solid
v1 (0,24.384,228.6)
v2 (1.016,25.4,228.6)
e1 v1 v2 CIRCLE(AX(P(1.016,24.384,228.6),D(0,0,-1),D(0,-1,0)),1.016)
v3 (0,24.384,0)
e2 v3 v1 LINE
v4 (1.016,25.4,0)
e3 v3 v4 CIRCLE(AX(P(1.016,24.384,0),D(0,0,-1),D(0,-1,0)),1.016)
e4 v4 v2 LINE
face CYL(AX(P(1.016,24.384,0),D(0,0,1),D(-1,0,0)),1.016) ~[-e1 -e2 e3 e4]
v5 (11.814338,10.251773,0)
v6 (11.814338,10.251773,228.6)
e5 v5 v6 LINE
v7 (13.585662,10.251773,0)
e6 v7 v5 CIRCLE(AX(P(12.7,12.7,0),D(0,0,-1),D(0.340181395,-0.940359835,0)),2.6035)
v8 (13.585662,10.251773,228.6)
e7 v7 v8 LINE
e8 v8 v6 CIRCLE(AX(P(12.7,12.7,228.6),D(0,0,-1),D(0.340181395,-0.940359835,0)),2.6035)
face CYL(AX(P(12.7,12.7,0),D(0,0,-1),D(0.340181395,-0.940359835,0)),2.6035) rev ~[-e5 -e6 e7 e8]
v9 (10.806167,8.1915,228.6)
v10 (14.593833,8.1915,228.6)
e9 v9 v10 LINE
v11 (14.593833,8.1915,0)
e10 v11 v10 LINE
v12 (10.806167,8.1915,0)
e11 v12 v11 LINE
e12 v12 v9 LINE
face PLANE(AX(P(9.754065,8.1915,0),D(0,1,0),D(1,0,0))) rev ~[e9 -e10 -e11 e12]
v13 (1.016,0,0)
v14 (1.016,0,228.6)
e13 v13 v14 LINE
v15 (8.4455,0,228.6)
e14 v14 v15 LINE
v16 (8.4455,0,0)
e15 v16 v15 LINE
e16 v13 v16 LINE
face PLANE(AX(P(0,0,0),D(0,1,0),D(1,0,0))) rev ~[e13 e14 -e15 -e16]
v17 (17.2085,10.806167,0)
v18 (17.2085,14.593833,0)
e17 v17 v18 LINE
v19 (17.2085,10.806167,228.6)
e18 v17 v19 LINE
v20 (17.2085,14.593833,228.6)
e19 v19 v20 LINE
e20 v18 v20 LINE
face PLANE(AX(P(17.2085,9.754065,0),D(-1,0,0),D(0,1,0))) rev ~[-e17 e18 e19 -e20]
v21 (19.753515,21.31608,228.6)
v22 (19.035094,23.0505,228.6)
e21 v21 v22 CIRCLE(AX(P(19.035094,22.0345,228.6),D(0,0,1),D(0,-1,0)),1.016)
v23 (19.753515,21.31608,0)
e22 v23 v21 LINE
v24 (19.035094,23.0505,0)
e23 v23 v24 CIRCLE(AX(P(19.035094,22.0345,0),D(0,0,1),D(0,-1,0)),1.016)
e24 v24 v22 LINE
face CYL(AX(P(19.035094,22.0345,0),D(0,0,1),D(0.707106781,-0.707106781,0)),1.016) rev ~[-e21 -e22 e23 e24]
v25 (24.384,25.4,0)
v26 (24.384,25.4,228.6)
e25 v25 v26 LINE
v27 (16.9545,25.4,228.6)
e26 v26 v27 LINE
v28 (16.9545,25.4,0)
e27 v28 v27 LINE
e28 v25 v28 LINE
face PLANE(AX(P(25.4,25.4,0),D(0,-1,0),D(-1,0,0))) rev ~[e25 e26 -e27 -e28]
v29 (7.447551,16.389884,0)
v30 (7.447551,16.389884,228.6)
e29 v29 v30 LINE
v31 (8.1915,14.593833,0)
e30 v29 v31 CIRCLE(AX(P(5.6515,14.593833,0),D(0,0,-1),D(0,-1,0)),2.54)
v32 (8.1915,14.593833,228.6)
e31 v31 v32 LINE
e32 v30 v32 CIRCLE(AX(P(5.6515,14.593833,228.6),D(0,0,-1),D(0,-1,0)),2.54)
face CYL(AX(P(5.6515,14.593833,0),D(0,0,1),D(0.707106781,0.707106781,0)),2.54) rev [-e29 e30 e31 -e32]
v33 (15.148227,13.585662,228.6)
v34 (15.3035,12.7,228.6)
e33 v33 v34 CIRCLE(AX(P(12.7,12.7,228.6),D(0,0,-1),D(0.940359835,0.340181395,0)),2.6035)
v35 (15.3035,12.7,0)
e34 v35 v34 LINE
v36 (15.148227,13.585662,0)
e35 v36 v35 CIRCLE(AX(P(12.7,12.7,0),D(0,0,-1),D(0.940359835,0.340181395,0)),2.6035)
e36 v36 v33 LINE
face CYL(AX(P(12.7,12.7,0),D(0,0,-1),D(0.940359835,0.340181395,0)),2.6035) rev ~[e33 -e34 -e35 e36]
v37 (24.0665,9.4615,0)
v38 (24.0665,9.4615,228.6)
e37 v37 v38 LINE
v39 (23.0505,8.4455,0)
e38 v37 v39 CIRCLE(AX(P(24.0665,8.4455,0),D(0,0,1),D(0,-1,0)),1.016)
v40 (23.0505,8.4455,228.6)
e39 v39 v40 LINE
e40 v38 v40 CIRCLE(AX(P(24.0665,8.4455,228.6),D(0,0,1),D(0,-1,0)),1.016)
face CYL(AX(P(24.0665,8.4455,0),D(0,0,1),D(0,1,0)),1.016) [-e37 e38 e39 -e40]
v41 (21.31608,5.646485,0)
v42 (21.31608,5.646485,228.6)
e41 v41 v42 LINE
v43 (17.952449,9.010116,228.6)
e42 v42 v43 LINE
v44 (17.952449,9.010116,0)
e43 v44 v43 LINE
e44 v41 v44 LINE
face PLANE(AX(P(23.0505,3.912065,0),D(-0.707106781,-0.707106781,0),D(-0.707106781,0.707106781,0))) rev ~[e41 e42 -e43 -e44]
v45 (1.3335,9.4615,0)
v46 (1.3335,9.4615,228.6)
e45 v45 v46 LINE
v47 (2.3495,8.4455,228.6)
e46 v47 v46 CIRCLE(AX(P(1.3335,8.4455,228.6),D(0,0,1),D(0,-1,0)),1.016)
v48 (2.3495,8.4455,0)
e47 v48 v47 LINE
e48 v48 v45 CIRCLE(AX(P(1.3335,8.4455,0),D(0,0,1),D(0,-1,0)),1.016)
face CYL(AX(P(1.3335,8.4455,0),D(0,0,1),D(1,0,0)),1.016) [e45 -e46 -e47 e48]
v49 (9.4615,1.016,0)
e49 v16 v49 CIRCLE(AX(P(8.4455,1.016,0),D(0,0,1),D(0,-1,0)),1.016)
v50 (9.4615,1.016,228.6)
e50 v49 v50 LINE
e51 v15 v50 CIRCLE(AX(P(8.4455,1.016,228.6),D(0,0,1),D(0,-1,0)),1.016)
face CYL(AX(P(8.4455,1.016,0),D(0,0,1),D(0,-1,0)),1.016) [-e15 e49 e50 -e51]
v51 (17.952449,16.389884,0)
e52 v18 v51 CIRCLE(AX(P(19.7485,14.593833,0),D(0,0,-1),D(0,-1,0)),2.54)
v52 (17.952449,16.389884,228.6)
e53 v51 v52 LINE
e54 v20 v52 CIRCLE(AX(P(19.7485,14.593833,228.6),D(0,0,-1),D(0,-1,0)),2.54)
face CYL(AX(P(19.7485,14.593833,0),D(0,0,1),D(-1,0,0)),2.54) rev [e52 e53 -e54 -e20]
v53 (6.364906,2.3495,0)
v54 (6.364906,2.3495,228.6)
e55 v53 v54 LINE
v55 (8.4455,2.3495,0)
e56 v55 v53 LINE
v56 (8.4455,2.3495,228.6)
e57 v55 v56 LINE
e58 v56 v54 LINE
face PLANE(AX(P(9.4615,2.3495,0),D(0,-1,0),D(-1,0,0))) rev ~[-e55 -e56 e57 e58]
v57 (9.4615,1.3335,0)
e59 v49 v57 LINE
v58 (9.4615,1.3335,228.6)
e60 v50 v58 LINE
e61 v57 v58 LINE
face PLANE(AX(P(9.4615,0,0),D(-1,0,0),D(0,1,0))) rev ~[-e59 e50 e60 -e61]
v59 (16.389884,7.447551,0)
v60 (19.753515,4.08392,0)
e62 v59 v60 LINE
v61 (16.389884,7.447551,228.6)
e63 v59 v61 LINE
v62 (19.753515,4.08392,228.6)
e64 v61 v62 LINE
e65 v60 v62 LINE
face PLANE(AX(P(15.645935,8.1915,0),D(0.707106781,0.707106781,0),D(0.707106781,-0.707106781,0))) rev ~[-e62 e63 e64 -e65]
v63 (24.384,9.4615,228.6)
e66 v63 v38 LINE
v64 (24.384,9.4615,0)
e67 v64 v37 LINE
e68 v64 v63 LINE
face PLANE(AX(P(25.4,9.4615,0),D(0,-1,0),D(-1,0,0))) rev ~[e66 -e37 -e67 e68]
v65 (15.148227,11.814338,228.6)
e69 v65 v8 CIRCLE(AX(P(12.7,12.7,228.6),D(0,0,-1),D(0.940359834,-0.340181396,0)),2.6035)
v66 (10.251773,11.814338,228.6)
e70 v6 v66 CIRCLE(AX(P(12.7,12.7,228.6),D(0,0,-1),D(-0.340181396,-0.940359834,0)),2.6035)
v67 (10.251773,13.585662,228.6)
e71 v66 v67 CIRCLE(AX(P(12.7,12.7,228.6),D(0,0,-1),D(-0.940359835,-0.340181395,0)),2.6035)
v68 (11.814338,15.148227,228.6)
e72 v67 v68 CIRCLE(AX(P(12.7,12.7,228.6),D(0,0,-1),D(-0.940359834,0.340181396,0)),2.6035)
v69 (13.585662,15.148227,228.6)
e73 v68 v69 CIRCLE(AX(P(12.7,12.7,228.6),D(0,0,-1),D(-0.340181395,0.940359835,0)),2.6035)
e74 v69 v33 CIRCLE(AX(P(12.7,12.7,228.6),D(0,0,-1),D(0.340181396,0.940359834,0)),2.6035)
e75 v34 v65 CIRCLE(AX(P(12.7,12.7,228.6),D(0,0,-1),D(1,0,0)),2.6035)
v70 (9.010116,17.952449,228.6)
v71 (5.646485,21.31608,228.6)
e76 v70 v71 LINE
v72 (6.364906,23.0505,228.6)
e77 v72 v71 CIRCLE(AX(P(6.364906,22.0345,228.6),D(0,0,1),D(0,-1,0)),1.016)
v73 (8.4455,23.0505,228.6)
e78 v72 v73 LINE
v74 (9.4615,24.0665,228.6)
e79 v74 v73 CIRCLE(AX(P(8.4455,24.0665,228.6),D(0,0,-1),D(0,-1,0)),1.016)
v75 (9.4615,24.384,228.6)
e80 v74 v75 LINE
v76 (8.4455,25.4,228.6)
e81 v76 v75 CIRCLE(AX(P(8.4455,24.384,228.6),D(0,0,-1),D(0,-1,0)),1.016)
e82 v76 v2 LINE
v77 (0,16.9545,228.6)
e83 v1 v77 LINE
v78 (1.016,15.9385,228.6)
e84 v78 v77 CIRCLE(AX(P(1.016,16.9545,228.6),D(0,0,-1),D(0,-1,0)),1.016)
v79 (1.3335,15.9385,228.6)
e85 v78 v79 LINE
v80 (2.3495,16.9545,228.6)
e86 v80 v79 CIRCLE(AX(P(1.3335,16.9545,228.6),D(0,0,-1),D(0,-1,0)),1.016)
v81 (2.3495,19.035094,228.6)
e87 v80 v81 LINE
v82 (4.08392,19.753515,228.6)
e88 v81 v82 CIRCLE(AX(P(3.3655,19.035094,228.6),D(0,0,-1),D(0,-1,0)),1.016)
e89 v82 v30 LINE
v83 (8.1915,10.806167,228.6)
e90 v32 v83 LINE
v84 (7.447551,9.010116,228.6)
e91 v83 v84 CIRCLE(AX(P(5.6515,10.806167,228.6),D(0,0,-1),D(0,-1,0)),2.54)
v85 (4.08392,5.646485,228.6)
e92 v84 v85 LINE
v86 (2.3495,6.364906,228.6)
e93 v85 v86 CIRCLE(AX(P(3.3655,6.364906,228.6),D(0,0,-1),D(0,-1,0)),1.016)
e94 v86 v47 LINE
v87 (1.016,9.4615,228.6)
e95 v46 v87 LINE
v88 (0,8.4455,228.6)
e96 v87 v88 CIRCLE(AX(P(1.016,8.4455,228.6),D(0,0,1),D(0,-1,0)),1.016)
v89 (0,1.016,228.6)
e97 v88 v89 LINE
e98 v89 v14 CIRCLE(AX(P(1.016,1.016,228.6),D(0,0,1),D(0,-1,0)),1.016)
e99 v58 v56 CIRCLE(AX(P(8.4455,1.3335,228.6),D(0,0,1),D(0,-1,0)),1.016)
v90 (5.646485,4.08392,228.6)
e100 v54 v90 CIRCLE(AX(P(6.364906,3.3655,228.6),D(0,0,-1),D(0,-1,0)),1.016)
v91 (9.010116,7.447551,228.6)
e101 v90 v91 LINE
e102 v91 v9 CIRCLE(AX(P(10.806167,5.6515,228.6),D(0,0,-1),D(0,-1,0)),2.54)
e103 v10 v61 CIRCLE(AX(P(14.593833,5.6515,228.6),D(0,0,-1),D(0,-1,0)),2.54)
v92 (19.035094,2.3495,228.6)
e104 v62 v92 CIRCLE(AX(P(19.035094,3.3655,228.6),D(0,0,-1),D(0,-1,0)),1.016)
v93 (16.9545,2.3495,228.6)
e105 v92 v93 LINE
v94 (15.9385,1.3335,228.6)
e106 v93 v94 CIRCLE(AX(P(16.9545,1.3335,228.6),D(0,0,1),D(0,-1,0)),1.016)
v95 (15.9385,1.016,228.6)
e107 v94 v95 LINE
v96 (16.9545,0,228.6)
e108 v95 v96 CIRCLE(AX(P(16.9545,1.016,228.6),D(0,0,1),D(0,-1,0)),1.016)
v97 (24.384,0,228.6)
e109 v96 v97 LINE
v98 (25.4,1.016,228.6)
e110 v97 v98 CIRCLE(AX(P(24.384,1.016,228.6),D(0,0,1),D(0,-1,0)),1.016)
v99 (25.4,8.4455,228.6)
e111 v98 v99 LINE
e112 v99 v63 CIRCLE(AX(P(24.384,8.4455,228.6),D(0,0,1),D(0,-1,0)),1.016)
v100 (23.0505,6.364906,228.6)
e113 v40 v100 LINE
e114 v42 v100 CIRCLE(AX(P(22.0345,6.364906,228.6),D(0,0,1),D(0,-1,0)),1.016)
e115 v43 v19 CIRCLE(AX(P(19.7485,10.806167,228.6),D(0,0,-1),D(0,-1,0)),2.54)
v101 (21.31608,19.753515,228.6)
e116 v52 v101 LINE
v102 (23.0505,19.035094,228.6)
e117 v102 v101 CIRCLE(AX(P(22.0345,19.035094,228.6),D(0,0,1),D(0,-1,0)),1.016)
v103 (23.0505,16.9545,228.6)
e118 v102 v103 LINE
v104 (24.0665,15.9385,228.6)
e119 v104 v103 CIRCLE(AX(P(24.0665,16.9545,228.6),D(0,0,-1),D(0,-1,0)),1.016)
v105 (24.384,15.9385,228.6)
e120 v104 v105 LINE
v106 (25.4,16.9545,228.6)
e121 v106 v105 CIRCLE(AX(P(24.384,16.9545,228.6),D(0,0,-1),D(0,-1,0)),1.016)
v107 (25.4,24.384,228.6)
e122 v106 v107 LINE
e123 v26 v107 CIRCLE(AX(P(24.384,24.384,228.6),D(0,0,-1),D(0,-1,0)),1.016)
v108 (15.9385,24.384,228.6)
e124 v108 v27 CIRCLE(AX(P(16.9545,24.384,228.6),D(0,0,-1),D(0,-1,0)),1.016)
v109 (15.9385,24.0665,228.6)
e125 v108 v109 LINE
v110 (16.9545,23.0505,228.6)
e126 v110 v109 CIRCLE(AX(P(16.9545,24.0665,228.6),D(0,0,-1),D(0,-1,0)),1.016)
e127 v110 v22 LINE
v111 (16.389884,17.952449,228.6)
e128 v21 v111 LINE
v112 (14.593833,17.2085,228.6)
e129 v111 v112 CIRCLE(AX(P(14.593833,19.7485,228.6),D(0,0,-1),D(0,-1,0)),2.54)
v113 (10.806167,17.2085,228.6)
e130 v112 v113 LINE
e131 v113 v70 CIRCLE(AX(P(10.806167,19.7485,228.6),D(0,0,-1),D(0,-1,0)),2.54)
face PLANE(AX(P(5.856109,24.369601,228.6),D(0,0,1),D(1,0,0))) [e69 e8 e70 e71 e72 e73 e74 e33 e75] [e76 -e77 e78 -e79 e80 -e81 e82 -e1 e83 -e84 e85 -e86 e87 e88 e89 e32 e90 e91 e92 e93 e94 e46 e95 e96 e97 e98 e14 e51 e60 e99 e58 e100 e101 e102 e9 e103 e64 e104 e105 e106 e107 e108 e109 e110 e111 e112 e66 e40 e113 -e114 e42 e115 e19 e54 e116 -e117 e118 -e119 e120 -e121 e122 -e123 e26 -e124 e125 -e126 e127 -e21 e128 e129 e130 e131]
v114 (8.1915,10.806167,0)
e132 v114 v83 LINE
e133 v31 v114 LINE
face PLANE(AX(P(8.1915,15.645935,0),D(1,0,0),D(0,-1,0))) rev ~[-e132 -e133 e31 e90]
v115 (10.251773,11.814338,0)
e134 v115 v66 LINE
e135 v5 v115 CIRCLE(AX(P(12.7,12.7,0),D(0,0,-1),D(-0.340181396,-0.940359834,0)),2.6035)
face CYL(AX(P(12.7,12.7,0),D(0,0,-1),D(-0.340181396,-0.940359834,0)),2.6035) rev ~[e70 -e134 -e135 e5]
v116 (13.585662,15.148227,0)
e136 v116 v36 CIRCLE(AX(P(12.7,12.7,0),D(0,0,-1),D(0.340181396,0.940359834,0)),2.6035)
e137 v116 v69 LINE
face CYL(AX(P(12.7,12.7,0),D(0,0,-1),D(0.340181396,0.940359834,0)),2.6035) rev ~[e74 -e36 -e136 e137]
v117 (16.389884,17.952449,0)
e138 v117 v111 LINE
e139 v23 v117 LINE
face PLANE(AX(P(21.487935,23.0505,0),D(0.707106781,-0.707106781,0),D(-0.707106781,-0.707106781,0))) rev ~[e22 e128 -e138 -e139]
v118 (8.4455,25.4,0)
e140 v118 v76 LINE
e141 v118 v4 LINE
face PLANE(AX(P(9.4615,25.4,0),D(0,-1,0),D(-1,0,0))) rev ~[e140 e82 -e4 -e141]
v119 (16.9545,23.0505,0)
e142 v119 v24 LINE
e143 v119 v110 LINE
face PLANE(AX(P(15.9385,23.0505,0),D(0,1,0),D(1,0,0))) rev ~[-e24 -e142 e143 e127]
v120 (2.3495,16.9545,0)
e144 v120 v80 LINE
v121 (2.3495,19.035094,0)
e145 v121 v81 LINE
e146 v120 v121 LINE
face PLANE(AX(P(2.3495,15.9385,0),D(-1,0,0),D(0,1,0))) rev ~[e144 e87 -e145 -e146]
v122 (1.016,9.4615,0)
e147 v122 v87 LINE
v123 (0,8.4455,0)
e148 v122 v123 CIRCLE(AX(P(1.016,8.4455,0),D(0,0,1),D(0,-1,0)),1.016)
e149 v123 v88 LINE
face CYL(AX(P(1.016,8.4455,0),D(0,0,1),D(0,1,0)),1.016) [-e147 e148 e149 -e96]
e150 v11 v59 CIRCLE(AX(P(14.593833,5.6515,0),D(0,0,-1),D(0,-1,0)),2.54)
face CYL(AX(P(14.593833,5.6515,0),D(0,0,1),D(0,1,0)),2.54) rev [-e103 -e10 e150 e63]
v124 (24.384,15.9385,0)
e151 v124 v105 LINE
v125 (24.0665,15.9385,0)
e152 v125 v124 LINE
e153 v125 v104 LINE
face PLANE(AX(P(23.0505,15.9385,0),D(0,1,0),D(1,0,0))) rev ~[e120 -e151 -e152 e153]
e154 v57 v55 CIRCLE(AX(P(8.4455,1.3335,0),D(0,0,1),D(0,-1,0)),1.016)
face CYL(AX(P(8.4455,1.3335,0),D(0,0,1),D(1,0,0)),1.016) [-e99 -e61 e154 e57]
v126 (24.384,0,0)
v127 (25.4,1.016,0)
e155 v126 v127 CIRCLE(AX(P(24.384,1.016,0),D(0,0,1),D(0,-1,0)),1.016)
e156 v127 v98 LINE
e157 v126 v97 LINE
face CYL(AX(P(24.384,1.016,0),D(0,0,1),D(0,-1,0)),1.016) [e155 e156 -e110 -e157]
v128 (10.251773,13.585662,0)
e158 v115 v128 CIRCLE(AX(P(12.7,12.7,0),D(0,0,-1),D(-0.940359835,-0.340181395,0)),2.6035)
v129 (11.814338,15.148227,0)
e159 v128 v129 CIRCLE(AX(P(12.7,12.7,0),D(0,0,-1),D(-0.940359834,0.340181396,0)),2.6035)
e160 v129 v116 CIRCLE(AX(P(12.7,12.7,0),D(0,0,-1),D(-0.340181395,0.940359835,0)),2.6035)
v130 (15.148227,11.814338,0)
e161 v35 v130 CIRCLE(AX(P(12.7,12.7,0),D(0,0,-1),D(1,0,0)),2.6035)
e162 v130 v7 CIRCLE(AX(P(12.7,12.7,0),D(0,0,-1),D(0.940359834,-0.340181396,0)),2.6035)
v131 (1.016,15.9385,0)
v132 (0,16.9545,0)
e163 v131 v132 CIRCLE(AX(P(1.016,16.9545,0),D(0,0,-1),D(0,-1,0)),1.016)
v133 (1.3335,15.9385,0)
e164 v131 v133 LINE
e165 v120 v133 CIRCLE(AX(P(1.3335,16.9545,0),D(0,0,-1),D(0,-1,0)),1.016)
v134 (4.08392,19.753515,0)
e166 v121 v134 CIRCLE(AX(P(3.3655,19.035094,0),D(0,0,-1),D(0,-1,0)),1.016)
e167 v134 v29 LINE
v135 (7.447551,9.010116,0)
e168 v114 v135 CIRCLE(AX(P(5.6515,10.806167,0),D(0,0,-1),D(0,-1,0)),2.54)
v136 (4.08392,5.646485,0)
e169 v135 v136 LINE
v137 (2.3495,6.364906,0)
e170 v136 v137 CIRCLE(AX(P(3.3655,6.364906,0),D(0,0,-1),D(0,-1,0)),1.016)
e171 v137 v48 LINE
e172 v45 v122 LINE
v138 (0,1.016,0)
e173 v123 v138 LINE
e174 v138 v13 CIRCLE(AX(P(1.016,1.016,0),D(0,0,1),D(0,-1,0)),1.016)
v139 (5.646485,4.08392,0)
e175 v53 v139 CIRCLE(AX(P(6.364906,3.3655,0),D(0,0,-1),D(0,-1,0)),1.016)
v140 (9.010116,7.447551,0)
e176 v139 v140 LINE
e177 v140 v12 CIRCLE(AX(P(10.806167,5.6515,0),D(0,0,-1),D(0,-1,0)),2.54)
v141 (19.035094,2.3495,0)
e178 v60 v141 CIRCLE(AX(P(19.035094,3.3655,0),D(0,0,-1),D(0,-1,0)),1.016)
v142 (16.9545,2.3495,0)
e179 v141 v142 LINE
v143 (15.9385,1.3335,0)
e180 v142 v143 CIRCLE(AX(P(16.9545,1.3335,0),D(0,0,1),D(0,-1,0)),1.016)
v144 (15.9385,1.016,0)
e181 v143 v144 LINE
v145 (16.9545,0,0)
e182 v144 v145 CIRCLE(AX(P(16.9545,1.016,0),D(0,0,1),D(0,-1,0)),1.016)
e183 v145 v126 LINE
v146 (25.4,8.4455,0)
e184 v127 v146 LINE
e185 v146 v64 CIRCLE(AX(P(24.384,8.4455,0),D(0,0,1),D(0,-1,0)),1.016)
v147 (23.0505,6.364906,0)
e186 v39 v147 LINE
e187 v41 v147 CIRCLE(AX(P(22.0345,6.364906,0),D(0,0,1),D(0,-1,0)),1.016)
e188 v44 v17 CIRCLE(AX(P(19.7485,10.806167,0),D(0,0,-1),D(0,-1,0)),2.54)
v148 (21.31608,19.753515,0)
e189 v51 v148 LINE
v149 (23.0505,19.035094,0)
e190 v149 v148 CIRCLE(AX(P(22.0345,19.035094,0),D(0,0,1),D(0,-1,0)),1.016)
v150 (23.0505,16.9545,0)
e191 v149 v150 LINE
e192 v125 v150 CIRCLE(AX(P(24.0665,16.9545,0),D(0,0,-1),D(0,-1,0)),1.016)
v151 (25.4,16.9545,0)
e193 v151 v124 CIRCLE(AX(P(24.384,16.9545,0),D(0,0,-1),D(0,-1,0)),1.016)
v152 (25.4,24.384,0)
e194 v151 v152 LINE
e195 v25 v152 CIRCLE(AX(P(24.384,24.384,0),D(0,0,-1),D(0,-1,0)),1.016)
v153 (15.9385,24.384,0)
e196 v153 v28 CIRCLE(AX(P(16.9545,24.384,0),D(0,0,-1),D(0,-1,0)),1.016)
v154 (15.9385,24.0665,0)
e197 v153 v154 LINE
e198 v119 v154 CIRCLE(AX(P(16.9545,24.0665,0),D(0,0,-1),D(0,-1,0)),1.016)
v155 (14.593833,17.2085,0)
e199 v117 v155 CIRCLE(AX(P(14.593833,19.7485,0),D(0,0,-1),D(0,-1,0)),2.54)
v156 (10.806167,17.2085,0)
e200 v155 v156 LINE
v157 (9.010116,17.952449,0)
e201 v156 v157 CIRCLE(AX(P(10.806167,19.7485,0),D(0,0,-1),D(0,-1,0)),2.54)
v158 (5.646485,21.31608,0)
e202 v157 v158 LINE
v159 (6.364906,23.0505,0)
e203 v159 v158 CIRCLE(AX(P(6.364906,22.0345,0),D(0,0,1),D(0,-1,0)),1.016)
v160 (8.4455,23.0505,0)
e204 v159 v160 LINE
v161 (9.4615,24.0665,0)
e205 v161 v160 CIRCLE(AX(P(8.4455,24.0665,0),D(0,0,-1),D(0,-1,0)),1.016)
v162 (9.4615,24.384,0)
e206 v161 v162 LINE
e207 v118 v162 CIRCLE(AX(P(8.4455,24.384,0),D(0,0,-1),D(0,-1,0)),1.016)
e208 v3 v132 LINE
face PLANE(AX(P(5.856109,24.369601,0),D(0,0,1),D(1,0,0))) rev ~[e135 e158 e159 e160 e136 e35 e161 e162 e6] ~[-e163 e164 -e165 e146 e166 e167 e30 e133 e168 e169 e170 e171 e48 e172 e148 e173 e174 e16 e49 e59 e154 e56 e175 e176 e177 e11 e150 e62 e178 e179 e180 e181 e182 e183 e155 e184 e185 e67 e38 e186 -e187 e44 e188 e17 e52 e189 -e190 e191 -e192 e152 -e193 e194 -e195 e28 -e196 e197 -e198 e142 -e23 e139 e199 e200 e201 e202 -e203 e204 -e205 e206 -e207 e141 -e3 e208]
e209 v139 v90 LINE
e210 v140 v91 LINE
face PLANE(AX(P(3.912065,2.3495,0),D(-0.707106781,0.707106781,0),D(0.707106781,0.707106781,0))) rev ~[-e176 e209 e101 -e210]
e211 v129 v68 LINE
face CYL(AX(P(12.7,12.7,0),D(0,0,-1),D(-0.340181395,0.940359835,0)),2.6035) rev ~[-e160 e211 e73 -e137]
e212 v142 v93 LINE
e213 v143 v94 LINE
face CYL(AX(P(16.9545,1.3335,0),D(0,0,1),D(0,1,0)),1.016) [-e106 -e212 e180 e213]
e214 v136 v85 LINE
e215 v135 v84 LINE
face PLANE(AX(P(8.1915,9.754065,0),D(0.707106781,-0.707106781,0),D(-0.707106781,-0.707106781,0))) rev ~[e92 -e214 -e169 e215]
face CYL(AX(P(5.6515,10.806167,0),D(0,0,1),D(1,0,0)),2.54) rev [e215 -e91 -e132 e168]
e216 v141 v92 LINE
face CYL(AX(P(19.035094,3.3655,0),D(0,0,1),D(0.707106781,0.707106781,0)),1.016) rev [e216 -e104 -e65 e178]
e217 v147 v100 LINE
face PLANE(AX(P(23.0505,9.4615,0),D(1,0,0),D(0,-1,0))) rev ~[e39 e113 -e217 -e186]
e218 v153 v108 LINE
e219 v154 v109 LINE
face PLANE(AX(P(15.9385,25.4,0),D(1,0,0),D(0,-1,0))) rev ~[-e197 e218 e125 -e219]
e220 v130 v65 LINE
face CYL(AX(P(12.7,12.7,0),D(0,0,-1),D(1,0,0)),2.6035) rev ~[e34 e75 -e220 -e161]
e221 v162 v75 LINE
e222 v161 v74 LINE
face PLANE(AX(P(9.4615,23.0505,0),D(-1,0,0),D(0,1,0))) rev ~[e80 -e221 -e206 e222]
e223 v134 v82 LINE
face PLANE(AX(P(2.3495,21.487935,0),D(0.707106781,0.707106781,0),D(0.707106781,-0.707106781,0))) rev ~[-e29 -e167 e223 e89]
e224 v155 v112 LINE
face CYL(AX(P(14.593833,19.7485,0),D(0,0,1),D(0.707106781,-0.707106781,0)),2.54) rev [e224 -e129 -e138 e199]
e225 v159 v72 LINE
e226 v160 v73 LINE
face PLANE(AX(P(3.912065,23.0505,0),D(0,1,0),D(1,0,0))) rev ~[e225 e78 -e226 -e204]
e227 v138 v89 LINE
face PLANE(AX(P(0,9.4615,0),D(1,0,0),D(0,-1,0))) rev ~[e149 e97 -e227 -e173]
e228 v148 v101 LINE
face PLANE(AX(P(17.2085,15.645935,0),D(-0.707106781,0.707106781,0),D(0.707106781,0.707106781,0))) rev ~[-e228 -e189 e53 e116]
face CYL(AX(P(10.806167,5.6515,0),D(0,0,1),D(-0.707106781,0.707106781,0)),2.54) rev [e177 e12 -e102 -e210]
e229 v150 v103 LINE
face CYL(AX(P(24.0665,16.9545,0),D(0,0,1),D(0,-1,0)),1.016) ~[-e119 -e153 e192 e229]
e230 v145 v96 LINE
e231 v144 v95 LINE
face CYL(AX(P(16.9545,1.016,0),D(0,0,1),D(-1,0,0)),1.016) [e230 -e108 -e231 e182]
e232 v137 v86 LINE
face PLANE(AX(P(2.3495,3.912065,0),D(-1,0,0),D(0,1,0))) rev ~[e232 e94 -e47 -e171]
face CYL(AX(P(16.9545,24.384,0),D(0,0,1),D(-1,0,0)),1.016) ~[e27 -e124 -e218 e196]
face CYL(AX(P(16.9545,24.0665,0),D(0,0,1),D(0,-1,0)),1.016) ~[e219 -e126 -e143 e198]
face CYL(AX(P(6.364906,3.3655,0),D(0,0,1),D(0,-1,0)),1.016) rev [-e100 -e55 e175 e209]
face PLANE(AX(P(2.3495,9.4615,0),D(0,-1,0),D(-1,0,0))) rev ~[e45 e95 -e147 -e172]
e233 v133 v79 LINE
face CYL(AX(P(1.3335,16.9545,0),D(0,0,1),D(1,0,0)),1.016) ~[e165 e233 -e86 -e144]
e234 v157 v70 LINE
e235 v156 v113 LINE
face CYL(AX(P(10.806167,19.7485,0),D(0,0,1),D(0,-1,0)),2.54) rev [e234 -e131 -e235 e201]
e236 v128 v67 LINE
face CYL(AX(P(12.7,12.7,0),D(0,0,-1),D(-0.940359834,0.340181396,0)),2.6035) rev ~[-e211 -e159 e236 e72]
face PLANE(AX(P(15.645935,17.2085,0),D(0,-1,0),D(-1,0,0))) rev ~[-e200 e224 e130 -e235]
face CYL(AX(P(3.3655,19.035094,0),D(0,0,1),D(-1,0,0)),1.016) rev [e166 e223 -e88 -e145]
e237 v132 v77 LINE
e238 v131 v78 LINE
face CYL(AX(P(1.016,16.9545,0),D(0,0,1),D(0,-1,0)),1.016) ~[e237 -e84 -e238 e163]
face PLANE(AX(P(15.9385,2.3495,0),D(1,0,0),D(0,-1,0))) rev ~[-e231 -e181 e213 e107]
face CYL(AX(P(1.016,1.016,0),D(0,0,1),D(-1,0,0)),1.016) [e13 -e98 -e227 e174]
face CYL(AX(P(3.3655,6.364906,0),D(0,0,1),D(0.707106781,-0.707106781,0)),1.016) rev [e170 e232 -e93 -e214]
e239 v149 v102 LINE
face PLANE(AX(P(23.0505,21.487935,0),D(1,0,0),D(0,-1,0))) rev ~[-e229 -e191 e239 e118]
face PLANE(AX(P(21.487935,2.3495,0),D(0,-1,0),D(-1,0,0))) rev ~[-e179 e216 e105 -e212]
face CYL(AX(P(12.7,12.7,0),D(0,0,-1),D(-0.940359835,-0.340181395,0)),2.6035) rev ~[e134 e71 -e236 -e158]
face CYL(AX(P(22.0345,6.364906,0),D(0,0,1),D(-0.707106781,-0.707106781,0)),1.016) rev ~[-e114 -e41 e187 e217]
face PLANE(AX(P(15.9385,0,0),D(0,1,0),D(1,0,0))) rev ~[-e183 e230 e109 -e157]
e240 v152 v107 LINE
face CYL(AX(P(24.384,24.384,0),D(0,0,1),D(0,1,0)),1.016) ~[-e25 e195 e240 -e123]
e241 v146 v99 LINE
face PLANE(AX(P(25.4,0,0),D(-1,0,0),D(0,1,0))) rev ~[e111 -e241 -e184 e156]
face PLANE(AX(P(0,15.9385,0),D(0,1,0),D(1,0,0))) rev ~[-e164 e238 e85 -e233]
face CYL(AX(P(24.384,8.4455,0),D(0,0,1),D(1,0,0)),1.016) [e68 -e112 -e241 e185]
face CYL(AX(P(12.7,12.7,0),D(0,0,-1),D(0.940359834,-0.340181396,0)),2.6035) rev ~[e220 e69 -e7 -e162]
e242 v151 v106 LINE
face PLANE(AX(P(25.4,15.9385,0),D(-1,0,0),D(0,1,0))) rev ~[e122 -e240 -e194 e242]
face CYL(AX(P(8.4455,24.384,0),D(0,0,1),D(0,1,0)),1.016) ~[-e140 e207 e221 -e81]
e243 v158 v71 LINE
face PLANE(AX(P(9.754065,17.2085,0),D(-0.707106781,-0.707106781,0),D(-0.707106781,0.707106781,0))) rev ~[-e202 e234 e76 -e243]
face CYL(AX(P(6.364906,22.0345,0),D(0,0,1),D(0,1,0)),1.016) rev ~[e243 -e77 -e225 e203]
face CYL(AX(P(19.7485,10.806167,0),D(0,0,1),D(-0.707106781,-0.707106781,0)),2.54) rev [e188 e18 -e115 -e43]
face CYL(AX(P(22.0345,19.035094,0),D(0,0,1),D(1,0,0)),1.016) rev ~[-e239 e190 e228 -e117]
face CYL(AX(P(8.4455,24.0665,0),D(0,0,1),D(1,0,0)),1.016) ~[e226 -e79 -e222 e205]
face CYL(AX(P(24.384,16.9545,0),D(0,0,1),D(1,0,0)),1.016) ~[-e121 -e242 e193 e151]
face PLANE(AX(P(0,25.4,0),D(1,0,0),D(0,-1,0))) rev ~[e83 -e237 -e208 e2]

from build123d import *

# Parameters (mm, degrees)
BOSS_EXTRUDE1_DEPTH = 228.6
FILLET1_R           = 2.54
FILLET2_R           = 1.016
FILLET3_R           = 1.016


with BuildPart() as part:
    # Sketch1 → Boss-Extrude1 (new body)
    with BuildSketch(Plane.XY):
        Polygon((1.562564565, 25.4), (3.912064565, 23.0505), (9.4615, 23.0505), (9.4615, 25.4), align=None)
        with BuildLine():
            Line((11.814337736, 15.148226829), (9.754064565, 17.2085))
            Line((9.754064565, 17.2085), (3.912064565, 23.0505))
            Line((3.912064565, 23.0505), (1.562564565, 25.4))
            Line((1.562564565, 25.4), (0, 25.4))
            Line((0, 25.4), (0, 23.837435435))
            Line((0, 23.837435435), (2.3495, 21.487935435))
            Line((2.3495, 21.487935435), (8.1915, 15.645935435))
            Line((8.1915, 15.645935435), (10.251773171, 13.585662264))
            ThreePointArc((10.251773171, 13.585662264), (10.859047495, 14.540952505), (11.814337736, 15.148226829))
        make_face()
        Polygon((2.3495, 15.9385), (2.3495, 21.487935435), (0, 23.837435435), (0, 15.9385), align=None)
        with BuildLine():
            Line((13.585662264, 15.148226829), (15.645935435, 17.2085))
            Line((15.645935435, 17.2085), (9.754064565, 17.2085))
            Line((9.754064565, 17.2085), (11.814337736, 15.148226829))
            ThreePointArc((11.814337736, 15.148226829), (12.7, 15.3035), (13.585662264, 15.148226829))
        make_face()
        with BuildLine():
            ThreePointArc((10.251773171, 11.814337736), (10.0965, 12.7), (10.251773171, 13.585662264))
            Line((10.251773171, 13.585662264), (8.1915, 15.645935435))
            Line((8.1915, 15.645935435), (8.1915, 9.754064565))
            Line((8.1915, 9.754064565), (10.251773171, 11.814337736))
        make_face()
        with BuildLine():
            ThreePointArc((11.814337736, 10.251773171), (10.859047495, 10.859047495), (10.251773171, 11.814337736))
            Line((10.251773171, 11.814337736), (8.1915, 9.754064565))
            Line((8.1915, 9.754064565), (2.3495, 3.912064565))
            Line((2.3495, 3.912064565), (0, 1.562564565))
            Line((0, 1.562564565), (0, 0))
            Line((0, 0), (1.562564565, 0))
            Line((1.562564565, 0), (3.912064565, 2.3495))
            Line((3.912064565, 2.3495), (9.754064565, 8.1915))
            Line((9.754064565, 8.1915), (11.814337736, 10.251773171))
        make_face()
        with BuildLine():
            ThreePointArc((13.585662264, 10.251773171), (12.7, 10.0965), (11.814337736, 10.251773171))
            Line((11.814337736, 10.251773171), (9.754064565, 8.1915))
            Line((9.754064565, 8.1915), (15.645935435, 8.1915))
            Line((15.645935435, 8.1915), (13.585662264, 10.251773171))
        make_face()
        with BuildLine():
            Line((17.2085, 9.754064565), (15.148226829, 11.814337736))
            ThreePointArc((15.148226829, 11.814337736), (14.540952505, 10.859047495), (13.585662264, 10.251773171))
            Line((13.585662264, 10.251773171), (15.645935435, 8.1915))
            Line((15.645935435, 8.1915), (21.487935435, 2.3495))
            Line((21.487935435, 2.3495), (23.837435435, 0))
            Line((23.837435435, 0), (25.4, 0))
            Line((25.4, 0), (25.4, 1.562564565))
            Line((25.4, 1.562564565), (23.0505, 3.912064565))
            Line((23.0505, 3.912064565), (17.2085, 9.754064565))
        make_face()
        with BuildLine():
            Line((17.2085, 15.645935435), (15.148226829, 13.585662264))
            ThreePointArc((15.148226829, 13.585662264), (15.264387919, 13.149585199), (15.3035, 12.7))
            ThreePointArc((15.3035, 12.7), (15.264387919, 12.250414801), (15.148226829, 11.814337736))
            Line((15.148226829, 11.814337736), (17.2085, 9.754064565))
            Line((17.2085, 9.754064565), (17.2085, 15.645935435))
        make_face()
        with BuildLine():
            Line((23.837435435, 25.4), (21.487935435, 23.0505))
            Line((21.487935435, 23.0505), (15.645935435, 17.2085))
            Line((15.645935435, 17.2085), (13.585662264, 15.148226829))
            ThreePointArc((13.585662264, 15.148226829), (14.540952505, 14.540952505), (15.148226829, 13.585662264))
            Line((15.148226829, 13.585662264), (17.2085, 15.645935435))
            Line((17.2085, 15.645935435), (23.0505, 21.487935435))
            Line((23.0505, 21.487935435), (25.4, 23.837435435))
            Line((25.4, 23.837435435), (25.4, 25.4))
            Line((25.4, 25.4), (23.837435435, 25.4))
        make_face()
        Polygon((15.9385, 23.0505), (21.487935435, 23.0505), (23.837435435, 25.4), (15.9385, 25.4), align=None)
        Polygon((25.4, 15.9385), (25.4, 23.837435435), (23.0505, 21.487935435), (23.0505, 15.9385), align=None)
        Polygon((23.0505, 9.4615), (23.0505, 3.912064565), (25.4, 1.562564565), (25.4, 9.4615), align=None)
        Polygon((23.837435435, 0), (21.487935435, 2.3495), (15.9385, 2.3495), (15.9385, 0), align=None)
        Polygon((9.4615, 2.3495), (3.912064565, 2.3495), (1.562564565, 0), (9.4615, 0), align=None)
        Polygon((0, 1.562564565), (2.3495, 3.912064565), (2.3495, 9.4615), (0, 9.4615), align=None)
    extrude(amount=BOSS_EXTRUDE1_DEPTH)

    # Fillet1
    fillet1_edges = [part.edges().sort_by_distance(p)[0] for p in [
        (15.645935435, 8.1915, 114.3),
        (9.754064565, 8.1915, 114.3),
        (8.1915, 9.754064565, 114.3),
        (8.1915, 15.645935435, 114.3),
        (9.754064565, 17.2085, 114.3),
        (15.645935435, 17.2085, 114.3),
        (17.2085, 15.645935435, 114.3),
        (17.2085, 9.754064565, 114.3),
    ]]
    fillet(fillet1_edges, radius=FILLET1_R)

    # Fillet2
    fillet2_edges = [part.edges().sort_by_distance(p)[0] for p in [
        (23.0505, 9.4615, 114.3),
        (25.4, 9.4615, 114.3),
        (25.4, 0, 114.3),
        (15.9385, 0, 114.3),
        (15.9385, 2.3495, 114.3),
        (9.4615, 2.3495, 114.3),
        (9.4615, 0, 114.3),
        (0, 0, 114.3),
        (0, 9.4615, 114.3),
        (2.3495, 9.4615, 114.3),
        (2.3495, 15.9385, 114.3),
        (0, 15.9385, 114.3),
        (0, 25.4, 114.3),
        (9.4615, 25.4, 114.3),
        (9.4615, 23.0505, 114.3),
        (15.9385, 23.0505, 114.3),
        (15.9385, 25.4, 114.3),
        (25.4, 25.4, 114.3),
        (25.4, 15.9385, 114.3),
        (23.0505, 15.9385, 114.3),
    ]]
    fillet(fillet2_edges, radius=FILLET2_R)

    # Fillet3
    fillet3_edges = [part.edges().sort_by_distance(p)[0] for p in [
        (23.0505, 3.912064565, 114.3),
        (21.487935435, 2.3495, 114.3),
        (3.912064565, 2.3495, 114.3),
        (2.3495, 3.912064565, 114.3),
        (2.3495, 21.487935435, 114.3),
        (3.912064565, 23.0505, 114.3),
        (21.487935435, 23.0505, 114.3),
        (23.0505, 21.487935435, 114.3),
    ]]
    fillet(fillet3_edges, radius=FILLET3_R)


solid = part.part
